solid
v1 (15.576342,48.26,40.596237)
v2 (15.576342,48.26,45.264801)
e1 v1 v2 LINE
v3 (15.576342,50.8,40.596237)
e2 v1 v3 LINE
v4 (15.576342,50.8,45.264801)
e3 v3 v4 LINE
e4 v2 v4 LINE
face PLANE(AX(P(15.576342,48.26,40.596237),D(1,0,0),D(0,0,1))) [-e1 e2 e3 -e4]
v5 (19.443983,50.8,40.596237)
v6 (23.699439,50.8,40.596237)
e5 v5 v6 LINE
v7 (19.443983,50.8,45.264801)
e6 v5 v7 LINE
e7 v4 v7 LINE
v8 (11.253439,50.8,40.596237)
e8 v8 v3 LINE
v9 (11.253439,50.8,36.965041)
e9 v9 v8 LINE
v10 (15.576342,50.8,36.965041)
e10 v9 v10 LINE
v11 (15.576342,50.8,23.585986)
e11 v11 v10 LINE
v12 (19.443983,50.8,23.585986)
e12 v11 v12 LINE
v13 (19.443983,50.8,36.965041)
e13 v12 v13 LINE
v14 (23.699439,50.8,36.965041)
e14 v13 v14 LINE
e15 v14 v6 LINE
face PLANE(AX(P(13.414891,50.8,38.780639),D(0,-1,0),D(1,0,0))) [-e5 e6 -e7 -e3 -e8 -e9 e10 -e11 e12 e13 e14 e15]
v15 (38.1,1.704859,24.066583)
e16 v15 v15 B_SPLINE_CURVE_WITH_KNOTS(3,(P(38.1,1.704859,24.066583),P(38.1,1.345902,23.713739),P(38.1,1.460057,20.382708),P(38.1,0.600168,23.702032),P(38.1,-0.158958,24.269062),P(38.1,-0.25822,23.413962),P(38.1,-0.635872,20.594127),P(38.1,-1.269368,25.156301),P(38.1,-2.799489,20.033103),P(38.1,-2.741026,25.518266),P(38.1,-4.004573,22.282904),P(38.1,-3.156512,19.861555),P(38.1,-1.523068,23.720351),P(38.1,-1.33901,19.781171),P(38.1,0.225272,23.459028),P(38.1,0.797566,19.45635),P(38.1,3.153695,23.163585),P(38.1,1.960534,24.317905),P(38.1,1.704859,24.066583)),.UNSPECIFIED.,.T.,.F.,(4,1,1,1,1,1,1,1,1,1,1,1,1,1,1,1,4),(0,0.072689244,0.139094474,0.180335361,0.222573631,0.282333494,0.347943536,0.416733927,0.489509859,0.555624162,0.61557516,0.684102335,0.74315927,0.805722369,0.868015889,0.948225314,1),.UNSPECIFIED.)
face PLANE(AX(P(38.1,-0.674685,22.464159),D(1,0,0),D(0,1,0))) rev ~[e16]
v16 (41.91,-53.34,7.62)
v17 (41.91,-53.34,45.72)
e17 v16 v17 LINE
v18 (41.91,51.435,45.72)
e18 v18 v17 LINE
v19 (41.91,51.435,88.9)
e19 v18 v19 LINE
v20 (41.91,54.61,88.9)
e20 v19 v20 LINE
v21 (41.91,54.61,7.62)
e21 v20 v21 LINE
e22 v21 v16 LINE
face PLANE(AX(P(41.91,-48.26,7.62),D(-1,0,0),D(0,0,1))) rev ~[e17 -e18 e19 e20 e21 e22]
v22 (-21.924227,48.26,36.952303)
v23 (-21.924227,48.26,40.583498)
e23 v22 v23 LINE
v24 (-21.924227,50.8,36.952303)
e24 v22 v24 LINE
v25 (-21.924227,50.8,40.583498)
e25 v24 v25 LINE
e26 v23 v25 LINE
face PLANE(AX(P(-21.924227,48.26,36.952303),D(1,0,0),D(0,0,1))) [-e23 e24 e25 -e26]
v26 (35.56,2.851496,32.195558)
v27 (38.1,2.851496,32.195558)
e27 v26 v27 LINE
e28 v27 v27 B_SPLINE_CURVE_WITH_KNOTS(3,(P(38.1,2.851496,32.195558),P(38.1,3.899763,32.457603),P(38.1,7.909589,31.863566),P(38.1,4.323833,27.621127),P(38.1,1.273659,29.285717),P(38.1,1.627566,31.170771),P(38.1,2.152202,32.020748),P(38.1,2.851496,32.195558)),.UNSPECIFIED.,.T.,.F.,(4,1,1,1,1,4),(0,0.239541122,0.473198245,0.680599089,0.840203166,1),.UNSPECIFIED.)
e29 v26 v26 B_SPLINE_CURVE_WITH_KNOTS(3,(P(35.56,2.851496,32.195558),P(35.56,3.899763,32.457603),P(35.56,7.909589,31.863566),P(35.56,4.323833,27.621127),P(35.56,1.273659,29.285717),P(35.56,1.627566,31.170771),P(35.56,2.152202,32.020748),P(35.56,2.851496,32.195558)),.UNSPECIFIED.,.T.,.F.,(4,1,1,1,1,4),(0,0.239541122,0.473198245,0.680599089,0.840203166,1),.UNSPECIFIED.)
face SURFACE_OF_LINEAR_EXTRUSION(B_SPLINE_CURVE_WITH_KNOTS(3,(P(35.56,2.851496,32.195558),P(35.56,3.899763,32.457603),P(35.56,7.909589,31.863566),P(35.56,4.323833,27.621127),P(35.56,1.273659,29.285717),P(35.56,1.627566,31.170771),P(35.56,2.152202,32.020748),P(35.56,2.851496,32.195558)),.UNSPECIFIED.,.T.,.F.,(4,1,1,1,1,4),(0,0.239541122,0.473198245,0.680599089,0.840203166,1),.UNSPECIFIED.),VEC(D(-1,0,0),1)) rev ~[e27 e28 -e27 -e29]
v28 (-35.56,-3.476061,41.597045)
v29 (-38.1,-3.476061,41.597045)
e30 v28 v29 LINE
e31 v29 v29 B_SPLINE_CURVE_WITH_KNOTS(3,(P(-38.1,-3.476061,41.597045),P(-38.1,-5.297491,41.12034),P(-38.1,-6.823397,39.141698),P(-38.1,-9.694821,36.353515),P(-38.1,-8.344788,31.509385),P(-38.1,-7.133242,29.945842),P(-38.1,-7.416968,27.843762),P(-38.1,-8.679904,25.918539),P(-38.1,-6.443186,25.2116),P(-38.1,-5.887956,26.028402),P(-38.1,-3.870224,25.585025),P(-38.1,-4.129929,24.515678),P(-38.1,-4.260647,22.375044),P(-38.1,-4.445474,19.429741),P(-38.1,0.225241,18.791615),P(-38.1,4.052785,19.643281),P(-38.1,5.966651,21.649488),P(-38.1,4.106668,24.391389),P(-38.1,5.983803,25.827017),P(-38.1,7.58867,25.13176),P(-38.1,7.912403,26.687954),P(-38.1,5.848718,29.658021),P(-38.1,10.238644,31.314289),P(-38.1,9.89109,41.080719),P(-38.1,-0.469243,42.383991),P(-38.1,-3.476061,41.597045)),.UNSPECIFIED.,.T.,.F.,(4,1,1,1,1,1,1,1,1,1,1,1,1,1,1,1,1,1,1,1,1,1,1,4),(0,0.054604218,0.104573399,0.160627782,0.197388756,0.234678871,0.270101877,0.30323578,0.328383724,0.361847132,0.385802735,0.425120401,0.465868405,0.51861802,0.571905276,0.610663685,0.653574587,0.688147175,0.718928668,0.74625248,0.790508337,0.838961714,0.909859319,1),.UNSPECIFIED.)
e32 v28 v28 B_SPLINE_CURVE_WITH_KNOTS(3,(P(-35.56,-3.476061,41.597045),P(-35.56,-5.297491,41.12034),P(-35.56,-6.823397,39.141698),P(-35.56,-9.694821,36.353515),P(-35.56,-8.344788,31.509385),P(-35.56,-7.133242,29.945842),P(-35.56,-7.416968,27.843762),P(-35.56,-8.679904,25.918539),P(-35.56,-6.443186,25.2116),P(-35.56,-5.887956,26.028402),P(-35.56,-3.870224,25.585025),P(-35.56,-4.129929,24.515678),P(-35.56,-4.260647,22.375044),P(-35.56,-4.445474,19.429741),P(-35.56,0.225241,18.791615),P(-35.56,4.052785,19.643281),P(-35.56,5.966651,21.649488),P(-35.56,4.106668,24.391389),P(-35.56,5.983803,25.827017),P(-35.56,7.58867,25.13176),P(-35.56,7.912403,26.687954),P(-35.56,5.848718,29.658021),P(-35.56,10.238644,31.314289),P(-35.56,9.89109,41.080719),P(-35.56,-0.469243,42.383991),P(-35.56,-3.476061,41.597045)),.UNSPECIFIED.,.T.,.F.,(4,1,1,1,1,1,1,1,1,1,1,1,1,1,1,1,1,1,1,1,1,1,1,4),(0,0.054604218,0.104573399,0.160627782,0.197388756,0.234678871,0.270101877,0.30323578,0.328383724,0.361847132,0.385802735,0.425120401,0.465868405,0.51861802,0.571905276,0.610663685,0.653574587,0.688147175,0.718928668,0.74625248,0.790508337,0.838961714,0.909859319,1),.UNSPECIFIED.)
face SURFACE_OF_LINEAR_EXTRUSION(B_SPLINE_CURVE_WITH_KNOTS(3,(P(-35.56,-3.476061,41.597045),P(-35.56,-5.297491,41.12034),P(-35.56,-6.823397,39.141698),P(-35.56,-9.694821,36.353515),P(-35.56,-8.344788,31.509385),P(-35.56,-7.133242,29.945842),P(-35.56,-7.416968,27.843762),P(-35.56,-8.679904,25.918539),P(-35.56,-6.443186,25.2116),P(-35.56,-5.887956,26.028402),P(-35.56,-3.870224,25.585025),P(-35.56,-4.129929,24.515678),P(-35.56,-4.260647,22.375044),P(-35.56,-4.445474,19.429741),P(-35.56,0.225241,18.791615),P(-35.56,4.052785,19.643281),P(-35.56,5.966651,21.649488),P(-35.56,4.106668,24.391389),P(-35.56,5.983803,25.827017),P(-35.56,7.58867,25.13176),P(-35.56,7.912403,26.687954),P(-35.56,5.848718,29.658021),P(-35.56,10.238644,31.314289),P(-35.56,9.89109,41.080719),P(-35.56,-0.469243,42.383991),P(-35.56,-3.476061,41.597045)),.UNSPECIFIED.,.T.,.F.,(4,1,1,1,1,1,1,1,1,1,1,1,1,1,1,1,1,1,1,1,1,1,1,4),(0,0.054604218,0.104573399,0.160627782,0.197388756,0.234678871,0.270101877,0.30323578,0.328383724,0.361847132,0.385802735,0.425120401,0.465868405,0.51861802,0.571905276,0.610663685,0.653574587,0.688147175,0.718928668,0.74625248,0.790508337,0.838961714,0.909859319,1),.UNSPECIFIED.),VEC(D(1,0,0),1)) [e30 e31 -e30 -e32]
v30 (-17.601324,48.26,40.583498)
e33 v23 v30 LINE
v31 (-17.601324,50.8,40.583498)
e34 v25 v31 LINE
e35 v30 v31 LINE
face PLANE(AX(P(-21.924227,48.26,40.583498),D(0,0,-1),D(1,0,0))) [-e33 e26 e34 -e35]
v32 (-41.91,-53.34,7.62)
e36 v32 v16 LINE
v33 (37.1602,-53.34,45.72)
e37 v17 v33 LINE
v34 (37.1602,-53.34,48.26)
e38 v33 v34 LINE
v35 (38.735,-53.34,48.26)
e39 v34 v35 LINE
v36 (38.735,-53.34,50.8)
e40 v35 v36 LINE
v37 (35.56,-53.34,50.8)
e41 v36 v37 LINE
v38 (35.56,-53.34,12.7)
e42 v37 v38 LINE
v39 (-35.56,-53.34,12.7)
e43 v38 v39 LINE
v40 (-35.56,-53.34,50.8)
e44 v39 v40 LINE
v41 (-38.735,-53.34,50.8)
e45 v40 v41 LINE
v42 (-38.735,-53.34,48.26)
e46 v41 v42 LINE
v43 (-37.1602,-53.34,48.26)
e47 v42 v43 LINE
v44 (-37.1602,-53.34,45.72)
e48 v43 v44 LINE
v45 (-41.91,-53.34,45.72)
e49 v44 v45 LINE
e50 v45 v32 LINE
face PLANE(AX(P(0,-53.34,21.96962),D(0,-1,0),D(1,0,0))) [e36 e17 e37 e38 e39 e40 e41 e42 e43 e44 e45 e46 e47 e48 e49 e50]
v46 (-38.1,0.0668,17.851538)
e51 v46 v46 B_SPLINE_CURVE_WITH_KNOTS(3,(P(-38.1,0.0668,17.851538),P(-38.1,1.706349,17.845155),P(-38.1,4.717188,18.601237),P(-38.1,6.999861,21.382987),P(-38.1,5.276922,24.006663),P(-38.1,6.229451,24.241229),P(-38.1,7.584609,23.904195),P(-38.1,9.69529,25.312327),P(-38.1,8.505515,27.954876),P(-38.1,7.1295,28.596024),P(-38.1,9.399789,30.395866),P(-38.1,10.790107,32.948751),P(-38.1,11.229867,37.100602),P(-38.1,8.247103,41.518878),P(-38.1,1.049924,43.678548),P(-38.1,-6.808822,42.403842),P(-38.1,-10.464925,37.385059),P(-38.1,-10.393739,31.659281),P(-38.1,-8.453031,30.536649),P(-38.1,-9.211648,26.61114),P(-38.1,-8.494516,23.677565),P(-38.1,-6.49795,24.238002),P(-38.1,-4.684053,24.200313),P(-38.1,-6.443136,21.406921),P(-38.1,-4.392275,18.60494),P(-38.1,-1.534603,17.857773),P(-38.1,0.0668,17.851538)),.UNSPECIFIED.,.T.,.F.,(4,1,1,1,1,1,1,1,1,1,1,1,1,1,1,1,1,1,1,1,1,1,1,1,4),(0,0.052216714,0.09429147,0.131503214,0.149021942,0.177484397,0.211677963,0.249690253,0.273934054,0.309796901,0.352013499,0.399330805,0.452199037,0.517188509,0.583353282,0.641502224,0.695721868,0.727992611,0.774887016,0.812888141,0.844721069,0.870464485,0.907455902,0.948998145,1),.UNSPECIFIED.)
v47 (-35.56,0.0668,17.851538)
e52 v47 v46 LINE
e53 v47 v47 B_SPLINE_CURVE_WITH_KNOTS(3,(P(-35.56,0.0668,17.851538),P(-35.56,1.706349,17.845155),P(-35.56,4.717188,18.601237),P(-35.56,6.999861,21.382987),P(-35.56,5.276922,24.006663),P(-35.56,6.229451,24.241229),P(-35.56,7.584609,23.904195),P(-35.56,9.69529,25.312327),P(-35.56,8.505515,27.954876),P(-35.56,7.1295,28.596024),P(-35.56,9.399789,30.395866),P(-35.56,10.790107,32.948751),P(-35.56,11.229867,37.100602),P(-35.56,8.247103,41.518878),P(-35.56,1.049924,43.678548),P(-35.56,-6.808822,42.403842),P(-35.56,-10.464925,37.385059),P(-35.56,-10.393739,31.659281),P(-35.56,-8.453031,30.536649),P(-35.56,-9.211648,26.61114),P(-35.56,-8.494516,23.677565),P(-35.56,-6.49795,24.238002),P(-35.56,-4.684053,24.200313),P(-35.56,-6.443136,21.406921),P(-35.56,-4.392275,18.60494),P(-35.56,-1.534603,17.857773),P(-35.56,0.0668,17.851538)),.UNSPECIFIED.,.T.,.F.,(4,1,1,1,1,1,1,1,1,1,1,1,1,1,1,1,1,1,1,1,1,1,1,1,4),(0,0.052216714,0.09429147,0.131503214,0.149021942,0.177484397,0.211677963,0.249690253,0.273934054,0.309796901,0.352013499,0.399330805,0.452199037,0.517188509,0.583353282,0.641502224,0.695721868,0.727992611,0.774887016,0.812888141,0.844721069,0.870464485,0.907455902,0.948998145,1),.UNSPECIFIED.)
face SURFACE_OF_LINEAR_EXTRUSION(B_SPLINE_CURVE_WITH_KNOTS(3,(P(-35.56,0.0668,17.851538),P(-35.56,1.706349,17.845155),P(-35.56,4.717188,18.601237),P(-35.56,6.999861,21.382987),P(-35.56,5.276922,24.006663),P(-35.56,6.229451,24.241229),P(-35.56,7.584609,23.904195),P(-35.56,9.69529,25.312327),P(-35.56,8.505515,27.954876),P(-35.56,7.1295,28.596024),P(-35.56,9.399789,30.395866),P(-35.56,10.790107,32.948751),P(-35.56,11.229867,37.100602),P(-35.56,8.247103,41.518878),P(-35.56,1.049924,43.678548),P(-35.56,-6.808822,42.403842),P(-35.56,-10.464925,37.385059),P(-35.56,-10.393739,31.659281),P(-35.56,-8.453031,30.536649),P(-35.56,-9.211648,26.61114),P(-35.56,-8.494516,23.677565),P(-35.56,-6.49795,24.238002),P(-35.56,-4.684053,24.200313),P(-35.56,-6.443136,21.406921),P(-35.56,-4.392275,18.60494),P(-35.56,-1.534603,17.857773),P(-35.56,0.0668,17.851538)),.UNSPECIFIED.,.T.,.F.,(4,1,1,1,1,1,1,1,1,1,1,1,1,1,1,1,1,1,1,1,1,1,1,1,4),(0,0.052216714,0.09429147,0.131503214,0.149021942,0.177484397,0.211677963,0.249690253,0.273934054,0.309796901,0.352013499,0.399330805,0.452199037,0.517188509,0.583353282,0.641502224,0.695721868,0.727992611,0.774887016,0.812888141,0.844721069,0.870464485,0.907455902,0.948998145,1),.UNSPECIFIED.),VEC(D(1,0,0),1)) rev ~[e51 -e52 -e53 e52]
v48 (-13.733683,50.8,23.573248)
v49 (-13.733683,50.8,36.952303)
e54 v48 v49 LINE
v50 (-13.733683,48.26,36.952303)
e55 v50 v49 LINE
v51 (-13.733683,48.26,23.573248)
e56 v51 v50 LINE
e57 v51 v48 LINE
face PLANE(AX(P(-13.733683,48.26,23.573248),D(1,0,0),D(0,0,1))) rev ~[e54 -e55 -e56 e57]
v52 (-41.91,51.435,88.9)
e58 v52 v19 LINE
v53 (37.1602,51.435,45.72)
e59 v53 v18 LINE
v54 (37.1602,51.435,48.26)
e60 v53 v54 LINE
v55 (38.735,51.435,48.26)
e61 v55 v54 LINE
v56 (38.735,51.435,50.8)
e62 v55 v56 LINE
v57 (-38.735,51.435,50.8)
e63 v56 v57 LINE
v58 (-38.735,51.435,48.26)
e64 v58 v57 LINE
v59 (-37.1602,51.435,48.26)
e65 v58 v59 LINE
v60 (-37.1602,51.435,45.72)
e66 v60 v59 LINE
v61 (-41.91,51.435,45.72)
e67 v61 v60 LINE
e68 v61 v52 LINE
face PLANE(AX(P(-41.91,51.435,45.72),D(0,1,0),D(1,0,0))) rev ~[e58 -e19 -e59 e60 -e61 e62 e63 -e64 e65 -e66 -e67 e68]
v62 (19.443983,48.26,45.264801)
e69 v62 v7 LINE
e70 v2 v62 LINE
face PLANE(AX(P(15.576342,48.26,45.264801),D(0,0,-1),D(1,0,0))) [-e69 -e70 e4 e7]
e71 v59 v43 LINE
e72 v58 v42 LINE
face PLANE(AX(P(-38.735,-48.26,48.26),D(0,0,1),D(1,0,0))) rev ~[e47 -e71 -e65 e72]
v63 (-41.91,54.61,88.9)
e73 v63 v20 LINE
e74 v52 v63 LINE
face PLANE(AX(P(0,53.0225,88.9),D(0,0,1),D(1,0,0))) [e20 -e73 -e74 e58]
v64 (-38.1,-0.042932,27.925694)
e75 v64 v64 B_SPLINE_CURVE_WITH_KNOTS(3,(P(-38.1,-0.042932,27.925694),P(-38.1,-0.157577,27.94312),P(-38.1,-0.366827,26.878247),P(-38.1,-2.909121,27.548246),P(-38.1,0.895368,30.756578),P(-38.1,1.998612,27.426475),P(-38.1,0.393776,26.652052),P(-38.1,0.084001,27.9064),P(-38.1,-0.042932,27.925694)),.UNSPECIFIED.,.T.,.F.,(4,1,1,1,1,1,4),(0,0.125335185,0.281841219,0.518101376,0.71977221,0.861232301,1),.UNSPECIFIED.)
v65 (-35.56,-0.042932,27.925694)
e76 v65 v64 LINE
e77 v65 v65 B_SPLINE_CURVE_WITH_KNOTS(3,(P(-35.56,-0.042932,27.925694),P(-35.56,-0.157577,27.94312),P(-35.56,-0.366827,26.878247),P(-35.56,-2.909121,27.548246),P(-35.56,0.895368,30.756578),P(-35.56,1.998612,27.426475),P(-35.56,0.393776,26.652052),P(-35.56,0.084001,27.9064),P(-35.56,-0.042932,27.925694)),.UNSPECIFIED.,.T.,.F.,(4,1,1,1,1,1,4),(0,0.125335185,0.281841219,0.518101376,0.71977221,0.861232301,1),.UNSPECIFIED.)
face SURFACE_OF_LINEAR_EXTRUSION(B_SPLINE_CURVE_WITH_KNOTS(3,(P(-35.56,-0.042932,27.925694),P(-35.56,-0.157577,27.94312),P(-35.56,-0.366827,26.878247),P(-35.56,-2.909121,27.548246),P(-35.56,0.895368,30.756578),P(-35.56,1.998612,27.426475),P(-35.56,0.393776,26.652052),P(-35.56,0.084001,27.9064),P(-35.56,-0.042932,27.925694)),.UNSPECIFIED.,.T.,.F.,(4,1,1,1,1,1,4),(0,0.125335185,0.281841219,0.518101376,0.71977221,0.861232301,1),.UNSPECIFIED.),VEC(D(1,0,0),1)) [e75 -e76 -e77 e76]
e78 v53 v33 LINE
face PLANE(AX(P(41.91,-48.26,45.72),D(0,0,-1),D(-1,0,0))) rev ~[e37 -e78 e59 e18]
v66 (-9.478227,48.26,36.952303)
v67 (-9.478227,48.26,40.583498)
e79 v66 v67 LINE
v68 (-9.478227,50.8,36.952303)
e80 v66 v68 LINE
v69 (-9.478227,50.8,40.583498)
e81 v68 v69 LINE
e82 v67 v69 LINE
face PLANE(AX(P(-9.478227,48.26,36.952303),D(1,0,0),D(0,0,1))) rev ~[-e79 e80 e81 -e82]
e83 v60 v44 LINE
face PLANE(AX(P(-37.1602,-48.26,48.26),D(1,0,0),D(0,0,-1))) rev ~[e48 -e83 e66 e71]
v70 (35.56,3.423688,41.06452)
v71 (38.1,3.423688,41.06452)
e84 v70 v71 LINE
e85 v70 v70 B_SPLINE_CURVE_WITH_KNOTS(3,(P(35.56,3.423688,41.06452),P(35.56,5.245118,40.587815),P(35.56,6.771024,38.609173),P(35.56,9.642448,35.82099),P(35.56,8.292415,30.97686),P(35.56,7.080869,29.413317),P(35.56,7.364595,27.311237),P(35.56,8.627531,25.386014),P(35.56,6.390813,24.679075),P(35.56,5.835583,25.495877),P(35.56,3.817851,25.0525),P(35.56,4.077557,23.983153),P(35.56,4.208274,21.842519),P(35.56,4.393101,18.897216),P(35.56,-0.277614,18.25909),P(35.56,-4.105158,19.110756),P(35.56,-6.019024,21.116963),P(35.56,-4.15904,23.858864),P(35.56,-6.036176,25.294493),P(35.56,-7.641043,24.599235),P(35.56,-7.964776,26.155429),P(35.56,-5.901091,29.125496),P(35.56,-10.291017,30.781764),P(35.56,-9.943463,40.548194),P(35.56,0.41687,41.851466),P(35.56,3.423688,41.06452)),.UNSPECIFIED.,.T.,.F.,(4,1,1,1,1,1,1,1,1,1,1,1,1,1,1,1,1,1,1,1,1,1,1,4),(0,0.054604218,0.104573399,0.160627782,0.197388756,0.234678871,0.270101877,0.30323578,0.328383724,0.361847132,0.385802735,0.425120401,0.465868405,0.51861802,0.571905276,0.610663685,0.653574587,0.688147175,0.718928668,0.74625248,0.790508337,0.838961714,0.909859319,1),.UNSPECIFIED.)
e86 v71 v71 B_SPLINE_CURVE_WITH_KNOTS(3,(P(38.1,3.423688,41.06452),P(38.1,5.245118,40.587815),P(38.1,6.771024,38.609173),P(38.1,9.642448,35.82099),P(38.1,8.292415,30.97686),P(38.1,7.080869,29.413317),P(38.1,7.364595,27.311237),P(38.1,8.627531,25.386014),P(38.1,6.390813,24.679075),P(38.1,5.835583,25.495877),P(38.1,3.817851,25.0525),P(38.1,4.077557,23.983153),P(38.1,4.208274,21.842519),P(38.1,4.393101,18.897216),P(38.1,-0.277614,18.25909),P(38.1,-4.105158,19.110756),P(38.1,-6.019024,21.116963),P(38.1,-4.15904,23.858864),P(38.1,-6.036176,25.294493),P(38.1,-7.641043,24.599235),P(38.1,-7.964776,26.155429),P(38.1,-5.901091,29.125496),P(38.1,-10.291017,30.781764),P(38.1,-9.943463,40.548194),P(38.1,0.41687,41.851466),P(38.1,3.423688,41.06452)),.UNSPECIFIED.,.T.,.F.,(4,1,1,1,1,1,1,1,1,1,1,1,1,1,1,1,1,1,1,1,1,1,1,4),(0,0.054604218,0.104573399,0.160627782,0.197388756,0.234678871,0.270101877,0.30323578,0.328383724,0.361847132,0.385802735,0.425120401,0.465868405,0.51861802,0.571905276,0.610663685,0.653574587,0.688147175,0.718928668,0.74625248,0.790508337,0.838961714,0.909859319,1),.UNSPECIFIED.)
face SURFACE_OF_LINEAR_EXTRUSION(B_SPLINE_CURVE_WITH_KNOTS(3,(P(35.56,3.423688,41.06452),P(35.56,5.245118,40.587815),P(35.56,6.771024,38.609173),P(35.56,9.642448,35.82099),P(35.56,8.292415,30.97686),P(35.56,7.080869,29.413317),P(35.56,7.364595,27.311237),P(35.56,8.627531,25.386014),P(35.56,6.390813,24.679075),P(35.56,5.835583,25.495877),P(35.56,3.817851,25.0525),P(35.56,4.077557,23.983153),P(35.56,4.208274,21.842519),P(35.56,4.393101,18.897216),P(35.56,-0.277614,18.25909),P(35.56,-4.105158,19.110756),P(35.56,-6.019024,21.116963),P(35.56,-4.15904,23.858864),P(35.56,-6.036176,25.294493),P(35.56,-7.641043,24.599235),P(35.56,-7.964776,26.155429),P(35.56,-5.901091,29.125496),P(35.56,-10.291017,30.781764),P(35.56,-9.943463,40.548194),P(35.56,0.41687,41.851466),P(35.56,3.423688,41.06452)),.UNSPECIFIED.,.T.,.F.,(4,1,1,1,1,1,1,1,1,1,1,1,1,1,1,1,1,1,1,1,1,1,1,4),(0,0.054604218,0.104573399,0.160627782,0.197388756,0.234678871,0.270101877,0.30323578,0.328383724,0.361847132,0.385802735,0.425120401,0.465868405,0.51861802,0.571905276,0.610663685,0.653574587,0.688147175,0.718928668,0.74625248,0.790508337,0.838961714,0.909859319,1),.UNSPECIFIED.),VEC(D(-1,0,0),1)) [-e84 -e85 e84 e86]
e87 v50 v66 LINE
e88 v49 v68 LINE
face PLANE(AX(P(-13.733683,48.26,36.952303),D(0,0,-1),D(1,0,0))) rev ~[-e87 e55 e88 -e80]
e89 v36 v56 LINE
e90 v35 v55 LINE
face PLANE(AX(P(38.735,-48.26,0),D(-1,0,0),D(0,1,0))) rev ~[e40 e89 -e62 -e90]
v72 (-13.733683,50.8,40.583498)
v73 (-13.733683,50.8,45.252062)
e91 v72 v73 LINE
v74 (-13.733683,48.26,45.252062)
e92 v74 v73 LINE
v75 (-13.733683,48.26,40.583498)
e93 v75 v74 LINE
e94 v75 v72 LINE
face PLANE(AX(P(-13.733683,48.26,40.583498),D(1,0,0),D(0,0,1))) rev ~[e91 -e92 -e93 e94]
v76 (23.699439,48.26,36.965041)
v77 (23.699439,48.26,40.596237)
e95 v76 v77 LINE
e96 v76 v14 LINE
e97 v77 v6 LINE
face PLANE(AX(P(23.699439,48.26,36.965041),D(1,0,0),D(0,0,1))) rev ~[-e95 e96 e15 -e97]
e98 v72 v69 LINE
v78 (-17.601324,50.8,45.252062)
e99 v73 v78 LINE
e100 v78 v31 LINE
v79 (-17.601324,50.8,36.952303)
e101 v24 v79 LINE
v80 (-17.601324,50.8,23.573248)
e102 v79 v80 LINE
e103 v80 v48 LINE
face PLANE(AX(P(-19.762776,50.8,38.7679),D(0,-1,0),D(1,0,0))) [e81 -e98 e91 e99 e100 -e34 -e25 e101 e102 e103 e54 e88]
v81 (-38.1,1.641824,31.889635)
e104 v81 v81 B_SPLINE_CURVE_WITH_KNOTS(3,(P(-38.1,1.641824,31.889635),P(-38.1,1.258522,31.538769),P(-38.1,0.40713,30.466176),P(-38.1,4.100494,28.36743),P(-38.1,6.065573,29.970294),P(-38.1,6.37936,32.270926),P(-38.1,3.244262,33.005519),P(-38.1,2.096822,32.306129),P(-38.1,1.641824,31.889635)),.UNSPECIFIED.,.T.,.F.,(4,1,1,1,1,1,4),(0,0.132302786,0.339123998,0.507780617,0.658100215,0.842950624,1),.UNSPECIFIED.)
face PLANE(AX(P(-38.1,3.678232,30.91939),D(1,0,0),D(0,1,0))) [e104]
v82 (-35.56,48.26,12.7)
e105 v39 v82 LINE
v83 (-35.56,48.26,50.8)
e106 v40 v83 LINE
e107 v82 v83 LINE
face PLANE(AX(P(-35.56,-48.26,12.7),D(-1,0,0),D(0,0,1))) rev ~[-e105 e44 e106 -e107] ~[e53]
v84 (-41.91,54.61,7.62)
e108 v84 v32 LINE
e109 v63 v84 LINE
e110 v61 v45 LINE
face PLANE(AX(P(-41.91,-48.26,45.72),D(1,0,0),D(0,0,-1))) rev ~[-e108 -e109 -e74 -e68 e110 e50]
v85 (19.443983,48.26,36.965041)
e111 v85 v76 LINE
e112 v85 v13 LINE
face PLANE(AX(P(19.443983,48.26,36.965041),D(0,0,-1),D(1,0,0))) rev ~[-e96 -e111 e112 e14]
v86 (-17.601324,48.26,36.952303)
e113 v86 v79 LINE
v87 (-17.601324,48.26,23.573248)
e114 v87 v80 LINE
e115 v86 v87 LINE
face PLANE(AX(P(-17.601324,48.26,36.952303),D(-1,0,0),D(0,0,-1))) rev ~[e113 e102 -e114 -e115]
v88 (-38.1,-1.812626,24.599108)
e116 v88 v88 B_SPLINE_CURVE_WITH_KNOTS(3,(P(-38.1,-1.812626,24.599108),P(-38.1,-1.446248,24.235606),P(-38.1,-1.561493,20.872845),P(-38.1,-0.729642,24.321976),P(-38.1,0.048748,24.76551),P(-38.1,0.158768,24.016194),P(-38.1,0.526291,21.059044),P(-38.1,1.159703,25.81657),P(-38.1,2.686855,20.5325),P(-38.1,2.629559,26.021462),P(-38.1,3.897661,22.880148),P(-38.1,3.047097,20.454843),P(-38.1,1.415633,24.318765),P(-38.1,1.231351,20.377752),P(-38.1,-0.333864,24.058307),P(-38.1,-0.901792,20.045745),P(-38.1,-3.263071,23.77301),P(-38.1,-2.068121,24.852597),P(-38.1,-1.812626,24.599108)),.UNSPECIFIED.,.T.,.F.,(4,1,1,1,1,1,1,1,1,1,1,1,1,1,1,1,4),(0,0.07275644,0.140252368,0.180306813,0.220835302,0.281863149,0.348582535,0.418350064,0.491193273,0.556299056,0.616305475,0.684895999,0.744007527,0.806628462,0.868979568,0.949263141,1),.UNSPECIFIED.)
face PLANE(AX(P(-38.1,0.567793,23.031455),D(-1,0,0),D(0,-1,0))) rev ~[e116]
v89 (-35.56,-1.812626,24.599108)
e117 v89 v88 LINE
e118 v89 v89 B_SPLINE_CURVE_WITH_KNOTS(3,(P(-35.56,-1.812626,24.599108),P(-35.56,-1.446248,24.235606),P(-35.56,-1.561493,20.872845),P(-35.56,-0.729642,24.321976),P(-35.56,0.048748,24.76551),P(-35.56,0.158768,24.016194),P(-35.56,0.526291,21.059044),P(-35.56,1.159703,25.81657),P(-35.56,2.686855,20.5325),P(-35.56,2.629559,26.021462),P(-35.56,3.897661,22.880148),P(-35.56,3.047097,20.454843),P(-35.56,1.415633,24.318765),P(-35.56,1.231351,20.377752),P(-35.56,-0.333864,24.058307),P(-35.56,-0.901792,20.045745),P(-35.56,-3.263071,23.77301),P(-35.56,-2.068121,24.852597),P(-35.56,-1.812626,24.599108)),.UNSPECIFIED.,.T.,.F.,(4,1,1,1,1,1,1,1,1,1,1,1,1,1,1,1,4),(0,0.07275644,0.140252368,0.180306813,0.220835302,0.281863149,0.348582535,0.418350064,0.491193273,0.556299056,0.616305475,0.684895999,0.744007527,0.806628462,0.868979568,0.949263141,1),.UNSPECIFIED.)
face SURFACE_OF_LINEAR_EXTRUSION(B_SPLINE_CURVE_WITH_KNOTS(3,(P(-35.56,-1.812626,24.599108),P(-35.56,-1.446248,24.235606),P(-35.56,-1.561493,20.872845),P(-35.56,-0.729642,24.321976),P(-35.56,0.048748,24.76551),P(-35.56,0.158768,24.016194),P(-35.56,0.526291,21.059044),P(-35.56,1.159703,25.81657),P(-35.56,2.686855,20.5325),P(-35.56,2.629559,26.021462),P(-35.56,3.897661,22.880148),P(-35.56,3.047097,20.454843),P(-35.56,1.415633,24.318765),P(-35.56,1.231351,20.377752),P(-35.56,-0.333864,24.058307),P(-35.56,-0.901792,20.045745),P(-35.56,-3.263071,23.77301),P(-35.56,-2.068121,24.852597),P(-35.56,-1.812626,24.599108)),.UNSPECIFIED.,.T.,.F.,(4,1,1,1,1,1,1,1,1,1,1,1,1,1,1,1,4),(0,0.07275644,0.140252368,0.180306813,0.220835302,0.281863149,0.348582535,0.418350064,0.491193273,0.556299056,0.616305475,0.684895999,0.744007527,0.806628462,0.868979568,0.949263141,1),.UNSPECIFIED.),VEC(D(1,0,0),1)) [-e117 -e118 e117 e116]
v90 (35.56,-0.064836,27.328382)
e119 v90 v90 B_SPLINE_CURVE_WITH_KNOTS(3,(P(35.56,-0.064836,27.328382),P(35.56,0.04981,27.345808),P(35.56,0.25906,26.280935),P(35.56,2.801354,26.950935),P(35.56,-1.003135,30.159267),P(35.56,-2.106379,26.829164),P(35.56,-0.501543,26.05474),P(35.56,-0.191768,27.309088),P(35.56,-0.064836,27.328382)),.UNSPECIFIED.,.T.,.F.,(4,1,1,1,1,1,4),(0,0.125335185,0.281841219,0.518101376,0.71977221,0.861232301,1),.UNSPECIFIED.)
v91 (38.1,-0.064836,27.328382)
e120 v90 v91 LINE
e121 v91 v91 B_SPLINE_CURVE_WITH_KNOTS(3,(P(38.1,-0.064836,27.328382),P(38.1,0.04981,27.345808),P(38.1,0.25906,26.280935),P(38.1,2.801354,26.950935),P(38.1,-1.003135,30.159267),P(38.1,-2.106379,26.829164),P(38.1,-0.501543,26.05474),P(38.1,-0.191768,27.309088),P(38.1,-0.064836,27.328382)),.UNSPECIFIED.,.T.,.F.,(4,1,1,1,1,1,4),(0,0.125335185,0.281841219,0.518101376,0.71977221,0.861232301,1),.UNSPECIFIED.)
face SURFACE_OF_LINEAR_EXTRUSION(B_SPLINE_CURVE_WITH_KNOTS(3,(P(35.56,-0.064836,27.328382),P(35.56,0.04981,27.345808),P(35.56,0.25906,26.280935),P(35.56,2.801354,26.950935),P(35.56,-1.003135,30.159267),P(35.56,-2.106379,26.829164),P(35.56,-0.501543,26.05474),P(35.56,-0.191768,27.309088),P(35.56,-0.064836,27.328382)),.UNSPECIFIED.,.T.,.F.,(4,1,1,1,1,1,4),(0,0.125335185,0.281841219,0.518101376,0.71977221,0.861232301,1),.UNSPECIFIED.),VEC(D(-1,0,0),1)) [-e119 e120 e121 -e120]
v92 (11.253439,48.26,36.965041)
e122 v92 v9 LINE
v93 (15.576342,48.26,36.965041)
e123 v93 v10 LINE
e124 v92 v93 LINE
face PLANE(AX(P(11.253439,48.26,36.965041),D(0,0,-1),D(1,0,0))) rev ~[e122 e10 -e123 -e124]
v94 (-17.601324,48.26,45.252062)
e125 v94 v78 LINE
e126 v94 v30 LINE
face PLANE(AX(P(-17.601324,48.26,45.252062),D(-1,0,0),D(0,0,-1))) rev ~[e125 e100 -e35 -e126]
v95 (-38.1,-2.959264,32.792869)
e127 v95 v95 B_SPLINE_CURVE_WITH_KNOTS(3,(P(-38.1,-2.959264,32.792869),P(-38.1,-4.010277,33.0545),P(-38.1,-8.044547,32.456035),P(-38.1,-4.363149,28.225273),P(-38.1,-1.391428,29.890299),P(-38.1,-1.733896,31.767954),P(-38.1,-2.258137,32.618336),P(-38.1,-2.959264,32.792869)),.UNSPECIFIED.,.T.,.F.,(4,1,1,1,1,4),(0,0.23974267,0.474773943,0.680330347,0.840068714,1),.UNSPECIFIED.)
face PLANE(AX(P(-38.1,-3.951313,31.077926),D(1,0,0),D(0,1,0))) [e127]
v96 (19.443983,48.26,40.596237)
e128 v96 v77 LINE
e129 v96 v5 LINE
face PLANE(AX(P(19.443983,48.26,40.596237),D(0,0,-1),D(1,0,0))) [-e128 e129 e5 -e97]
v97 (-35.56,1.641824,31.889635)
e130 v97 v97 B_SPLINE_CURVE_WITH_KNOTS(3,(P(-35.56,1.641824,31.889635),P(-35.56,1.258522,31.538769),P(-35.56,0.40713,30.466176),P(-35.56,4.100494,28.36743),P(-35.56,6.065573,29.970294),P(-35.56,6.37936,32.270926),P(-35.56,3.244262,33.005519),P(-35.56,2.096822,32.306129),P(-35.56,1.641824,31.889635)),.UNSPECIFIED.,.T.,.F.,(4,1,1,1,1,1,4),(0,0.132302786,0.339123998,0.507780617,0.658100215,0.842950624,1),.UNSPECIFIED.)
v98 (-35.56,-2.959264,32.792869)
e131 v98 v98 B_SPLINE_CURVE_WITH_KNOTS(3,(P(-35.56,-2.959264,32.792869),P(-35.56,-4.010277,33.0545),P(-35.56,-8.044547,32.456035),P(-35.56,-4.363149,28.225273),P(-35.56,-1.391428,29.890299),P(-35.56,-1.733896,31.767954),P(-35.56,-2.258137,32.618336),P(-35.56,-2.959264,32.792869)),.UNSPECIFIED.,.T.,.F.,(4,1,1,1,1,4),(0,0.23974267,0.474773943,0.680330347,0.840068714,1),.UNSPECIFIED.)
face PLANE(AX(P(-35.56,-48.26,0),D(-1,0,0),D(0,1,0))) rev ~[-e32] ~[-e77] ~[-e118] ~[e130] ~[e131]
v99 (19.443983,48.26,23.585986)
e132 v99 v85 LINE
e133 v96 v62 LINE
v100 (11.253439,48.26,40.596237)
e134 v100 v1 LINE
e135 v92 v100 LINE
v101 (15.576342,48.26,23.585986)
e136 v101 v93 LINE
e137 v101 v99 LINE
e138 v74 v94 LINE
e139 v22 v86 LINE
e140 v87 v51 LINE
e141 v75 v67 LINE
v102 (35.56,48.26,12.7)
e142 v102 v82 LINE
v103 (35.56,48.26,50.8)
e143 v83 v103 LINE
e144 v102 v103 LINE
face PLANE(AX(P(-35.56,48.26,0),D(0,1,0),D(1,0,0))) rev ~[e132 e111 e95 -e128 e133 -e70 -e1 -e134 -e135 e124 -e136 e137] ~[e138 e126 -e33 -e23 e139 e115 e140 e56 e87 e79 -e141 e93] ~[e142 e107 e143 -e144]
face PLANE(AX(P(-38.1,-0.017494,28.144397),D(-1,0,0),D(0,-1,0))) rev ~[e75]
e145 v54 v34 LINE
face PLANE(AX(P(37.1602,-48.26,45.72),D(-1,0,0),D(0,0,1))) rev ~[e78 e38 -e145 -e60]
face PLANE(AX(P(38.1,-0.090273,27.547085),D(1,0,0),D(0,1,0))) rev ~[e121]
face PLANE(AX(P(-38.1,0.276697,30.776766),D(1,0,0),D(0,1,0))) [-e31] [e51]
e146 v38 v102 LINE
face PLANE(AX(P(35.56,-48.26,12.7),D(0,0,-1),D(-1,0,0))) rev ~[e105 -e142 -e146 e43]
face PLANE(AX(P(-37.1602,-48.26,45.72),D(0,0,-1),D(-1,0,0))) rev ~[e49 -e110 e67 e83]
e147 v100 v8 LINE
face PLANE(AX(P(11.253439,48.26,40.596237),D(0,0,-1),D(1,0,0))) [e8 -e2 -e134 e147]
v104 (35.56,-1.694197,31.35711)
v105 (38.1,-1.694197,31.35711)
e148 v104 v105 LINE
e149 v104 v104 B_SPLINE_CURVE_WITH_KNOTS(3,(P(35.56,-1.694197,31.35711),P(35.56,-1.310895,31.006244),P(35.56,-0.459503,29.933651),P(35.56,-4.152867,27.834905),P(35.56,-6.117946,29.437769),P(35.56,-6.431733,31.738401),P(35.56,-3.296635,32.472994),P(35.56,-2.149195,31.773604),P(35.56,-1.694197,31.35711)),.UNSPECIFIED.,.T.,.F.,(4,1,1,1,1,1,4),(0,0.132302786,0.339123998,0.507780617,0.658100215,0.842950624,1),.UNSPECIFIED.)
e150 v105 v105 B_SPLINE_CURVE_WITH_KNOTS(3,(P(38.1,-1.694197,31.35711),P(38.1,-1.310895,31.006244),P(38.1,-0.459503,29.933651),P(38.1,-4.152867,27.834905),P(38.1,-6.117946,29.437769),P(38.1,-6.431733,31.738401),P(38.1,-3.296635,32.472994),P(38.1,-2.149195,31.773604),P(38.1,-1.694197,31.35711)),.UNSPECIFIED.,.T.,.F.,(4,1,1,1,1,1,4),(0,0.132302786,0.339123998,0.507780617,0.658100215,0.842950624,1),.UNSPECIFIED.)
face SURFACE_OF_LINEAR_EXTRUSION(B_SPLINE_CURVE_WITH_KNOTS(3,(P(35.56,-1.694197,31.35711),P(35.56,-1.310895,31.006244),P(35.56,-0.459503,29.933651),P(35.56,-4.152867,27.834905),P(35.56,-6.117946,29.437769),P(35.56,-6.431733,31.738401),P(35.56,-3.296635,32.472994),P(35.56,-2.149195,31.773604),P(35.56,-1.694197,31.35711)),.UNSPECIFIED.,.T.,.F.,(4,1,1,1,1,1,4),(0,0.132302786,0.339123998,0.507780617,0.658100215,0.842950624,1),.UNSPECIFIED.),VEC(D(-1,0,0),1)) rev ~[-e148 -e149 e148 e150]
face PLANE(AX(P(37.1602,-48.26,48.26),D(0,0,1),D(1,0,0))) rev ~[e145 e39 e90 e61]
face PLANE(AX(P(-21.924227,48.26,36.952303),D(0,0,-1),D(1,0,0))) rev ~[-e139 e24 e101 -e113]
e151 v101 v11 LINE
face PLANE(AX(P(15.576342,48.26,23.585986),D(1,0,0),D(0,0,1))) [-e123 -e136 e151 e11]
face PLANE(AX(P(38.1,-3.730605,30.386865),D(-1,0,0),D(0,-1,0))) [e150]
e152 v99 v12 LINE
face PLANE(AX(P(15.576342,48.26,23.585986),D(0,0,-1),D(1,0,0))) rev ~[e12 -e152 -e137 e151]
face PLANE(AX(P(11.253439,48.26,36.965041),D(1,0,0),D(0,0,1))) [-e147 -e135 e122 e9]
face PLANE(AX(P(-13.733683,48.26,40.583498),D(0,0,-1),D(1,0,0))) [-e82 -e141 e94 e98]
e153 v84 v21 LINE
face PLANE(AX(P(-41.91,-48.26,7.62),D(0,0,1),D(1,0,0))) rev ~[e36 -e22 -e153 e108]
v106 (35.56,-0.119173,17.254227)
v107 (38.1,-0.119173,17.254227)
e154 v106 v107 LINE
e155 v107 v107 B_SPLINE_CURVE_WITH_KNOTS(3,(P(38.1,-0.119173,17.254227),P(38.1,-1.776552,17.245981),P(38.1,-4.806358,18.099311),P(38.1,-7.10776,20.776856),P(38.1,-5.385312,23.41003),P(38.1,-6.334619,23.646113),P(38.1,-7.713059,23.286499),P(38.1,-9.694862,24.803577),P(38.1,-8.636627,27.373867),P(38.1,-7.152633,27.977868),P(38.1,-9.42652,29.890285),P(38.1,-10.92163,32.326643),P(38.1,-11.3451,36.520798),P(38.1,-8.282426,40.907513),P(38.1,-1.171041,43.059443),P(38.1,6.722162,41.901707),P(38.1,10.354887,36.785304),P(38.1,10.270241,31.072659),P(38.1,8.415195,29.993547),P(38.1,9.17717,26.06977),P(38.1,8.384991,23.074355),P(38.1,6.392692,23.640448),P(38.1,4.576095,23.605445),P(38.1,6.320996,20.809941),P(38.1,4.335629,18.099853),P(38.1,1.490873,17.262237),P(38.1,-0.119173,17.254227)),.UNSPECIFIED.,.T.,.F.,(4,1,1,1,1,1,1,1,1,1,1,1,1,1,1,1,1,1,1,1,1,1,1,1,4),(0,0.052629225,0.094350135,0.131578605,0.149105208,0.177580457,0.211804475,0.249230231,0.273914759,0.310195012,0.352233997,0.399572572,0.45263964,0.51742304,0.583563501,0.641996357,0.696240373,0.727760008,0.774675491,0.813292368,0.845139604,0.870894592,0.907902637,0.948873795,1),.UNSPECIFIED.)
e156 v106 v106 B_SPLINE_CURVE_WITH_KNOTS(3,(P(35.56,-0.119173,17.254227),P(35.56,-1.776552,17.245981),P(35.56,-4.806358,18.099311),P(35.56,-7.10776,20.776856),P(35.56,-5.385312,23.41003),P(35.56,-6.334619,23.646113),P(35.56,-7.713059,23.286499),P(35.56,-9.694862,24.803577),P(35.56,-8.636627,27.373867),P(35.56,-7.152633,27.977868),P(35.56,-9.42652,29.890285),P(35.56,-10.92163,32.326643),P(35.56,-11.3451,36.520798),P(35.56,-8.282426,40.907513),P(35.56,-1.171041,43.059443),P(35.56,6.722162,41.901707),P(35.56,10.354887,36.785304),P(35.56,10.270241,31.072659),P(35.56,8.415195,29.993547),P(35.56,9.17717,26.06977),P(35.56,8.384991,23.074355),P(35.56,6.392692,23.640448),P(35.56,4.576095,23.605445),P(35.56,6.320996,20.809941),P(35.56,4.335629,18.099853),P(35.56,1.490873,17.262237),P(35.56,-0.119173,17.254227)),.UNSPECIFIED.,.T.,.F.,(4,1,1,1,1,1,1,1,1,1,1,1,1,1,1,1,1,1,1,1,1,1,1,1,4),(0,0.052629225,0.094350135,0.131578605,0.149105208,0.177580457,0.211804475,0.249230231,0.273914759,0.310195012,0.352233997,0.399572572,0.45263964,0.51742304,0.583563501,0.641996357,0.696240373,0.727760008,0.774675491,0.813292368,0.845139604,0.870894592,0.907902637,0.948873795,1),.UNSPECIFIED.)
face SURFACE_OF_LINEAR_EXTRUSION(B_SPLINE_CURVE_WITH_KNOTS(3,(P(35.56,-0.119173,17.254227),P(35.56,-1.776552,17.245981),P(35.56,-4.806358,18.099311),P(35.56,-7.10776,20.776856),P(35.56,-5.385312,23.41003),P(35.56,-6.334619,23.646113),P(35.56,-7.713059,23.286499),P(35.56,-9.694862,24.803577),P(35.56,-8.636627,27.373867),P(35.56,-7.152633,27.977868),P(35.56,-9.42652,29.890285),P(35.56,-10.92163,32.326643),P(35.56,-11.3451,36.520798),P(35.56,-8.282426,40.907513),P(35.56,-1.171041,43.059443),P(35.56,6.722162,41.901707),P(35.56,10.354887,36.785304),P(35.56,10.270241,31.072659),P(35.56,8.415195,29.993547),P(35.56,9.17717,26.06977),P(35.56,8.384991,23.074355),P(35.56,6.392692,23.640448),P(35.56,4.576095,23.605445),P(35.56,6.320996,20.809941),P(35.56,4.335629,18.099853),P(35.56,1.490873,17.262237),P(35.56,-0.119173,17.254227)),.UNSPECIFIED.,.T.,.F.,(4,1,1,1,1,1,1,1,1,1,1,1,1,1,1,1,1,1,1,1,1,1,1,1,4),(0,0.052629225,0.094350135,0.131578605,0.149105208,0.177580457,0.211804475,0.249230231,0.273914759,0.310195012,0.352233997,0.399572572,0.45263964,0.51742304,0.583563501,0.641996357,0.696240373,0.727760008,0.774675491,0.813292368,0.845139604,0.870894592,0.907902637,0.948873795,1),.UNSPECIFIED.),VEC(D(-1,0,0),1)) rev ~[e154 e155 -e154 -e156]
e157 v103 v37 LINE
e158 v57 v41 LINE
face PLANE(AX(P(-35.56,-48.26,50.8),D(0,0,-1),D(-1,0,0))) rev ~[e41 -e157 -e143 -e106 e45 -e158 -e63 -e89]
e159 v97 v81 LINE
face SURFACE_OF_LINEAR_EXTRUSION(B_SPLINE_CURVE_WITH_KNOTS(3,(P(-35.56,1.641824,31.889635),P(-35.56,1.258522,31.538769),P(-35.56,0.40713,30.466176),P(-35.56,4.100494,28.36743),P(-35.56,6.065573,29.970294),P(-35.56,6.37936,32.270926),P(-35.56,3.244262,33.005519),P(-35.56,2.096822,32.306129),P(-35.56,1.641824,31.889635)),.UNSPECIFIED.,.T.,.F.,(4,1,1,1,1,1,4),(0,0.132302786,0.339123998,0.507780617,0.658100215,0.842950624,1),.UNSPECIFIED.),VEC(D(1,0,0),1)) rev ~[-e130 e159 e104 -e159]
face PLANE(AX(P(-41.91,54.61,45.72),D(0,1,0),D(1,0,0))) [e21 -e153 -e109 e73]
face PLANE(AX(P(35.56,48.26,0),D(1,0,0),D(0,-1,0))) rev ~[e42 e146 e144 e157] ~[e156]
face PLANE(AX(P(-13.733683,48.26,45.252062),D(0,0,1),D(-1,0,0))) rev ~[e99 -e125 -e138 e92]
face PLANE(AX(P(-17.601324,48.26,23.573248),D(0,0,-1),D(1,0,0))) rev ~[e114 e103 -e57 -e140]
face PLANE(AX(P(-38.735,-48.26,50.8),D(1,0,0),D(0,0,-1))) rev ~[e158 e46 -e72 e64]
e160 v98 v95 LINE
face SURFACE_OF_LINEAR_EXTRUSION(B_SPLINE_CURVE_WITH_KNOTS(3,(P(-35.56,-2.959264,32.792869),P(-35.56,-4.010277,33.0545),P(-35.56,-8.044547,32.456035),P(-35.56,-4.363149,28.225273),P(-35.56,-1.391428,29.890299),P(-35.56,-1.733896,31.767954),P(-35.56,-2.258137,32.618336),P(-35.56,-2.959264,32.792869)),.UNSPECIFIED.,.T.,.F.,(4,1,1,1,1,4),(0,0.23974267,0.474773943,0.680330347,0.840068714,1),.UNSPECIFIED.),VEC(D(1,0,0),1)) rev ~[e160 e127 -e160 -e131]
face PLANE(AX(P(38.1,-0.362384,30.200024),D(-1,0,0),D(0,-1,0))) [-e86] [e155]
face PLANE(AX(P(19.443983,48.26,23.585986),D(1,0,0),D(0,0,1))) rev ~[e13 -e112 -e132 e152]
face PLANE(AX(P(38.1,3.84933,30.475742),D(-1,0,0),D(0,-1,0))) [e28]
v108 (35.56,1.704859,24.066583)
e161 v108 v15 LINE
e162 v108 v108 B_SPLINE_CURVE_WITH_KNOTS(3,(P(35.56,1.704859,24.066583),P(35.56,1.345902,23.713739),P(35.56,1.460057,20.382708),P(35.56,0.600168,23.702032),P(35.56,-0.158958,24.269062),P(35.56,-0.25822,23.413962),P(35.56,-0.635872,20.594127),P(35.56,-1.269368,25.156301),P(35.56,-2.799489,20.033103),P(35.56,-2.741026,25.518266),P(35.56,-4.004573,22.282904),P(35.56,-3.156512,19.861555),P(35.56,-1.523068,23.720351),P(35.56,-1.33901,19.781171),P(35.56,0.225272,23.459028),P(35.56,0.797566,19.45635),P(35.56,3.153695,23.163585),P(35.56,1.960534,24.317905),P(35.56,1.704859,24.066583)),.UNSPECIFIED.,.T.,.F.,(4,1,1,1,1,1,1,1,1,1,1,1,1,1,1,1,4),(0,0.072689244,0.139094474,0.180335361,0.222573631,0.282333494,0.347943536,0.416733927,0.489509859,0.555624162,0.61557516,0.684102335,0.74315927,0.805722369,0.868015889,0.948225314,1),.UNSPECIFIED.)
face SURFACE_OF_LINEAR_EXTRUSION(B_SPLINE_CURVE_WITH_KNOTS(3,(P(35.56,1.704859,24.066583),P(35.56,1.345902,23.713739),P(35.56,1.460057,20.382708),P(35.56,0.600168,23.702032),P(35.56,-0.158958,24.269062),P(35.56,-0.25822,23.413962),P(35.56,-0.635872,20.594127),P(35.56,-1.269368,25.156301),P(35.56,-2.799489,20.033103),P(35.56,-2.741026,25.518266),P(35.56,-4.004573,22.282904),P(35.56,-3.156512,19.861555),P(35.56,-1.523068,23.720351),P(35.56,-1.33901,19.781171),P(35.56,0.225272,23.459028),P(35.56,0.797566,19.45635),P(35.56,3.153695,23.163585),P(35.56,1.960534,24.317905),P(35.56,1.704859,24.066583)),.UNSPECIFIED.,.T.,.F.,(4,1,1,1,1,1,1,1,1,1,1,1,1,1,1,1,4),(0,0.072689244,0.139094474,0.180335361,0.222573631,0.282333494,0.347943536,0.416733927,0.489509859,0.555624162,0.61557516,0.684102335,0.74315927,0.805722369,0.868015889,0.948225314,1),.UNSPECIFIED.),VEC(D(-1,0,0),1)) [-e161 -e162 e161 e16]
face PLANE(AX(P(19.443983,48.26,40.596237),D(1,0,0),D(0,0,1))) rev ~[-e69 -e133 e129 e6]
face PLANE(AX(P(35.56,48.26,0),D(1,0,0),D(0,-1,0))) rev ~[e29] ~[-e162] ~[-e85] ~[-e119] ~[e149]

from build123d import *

# Parameters (mm, degrees)
F1_DEPTH  = 45.72
F0_W      = 71.12
F0_H      = 96.52
F2_DEPTH  = 12.7
F3_DEPTH  = 50.8
F4_W      = 4.3229026448
F4_H      = 3.6311953402
F4_W_2    = 4.2554562639
F4_W_3    = 3.8676410913
F4_H_2    = 4.6685643923
F4_H_3    = 13.379054932
F5_DEPTH  = 2.54
F7_DEPTH  = 2.54
F8_W      = 99.695
F8_H      = 2.54
F9_DEPTH  = 1.5748
F10_W     = 99.695
F10_H     = 2.54
F11_DEPTH = 1.5748
F12_W     = 83.82
F12_H     = 102.87
F13_DEPTH = 7.62
F14_W     = 83.82
F14_H     = 3.175
F15_DEPTH = 43.18
F17_DEPTH = 2.54
F19_DEPTH = 5.08


with BuildPart() as f1:
    # F0 (on Top) → F1 (new body)
    with BuildSketch(Plane.XY):
        Polygon((-41.91, -48.26), (-38.735, -48.26), (-38.735, 51.435), (38.735, 51.435), (38.735, -48.26), (41.91, -48.26), (41.91, 54.61), (-41.91, 54.61), align=None)
    extrude(amount=F1_DEPTH)

    # F0 (on Top) → F2 (join)
    with BuildSketch(Plane.XY):
        Rectangle(F0_W, F0_H)
        Polygon((-35.56, -48.26), (-35.56, 48.26), (35.56, 48.26), (35.56, -48.26), (38.735, -48.26), (38.735, 51.435), (-38.735, 51.435), (-38.735, -48.26), align=None)
    extrude(amount=F2_DEPTH)

    # F0 (on Top) → F3 (join)
    with BuildSketch(Plane.XY):
        Polygon((-35.56, -48.26), (-35.56, 48.26), (35.56, 48.26), (35.56, -48.26), (38.735, -48.26), (38.735, 51.435), (-38.735, 51.435), (-38.735, -48.26), align=None)
    extrude(amount=F3_DEPTH)

    # F4 (on face) → F5 (cut)
    with BuildSketch(Plane.XZ.offset(-48.26)):
        with Locations((-19.7627755677, 38.7679003179)):
            Rectangle(F4_W, F4_H)
        Polygon((-17.6013242453, 45.2520623803), (-17.6013242453, 40.583497988), (-13.733683154, 40.583497988), (-13.733683154, 45.2520623803), (-15.7012268901, 45.2520623803), align=None)
        Polygon((-13.733683154, 40.583497988), (-17.6013242453, 40.583497988), (-17.6013242453, 36.9523026478), (-15.7012268901, 36.9523026478), (-13.733683154, 36.9523026478), align=None)
        with Locations((-11.605955022, 38.7679003179)):
            Rectangle(F4_W_2, F4_H)
        Polygon((-15.7012268901, 36.9523026478), (-17.6013242453, 36.9523026478), (-17.6013242453, 23.5732477158), (-13.733683154, 23.5732477158), (-13.733683154, 36.9523026478), align=None)
        with Locations((13.4148907984, 38.7806389481)):
            Rectangle(F4_W, F4_H)
        with Locations((17.5101626664, 42.9305188143)):
            Rectangle(F4_W_3, F4_H_2)
        with Locations((17.5101626664, 38.7806389481)):
            Rectangle(F4_W_3, F4_H)
        with Locations((21.5717113441, 38.7806389481)):
            Rectangle(F4_W_2, F4_H)
        with Locations((17.5101626664, 30.275513812)):
            Rectangle(F4_W_3, F4_H_3)
    extrude(amount=-F5_DEPTH, mode=Mode.SUBTRACT)

    # F6 (on face) → F7 (cut)
    with BuildSketch(Plane.YZ.offset(-35.56)):
        with BuildLine():
            add(Edge.make_bspline(
                [(0.066800043, 17.8515381722), (1.7063485565, 17.8451552315), (4.7171876708, 18.6012374705), (6.999860678, 21.3829871952), (5.276921656, 24.0066631995), (6.2294506871, 24.2412287851), (7.5846093898, 23.9041946533), (9.6952903725, 25.3123269319), (8.5055153707, 27.9548758638), (7.1294995555, 28.5960237749), (9.3997885865, 30.3958659666), (10.790107201, 32.94875052), (11.229867324, 37.1006015122), (8.2471025978, 41.5188778213), (1.0499238935, 43.6785483487), (-6.8088219986, 42.4038417367), (-10.4649246778, 37.3850594005), (-10.393739257, 31.6592808684), (-8.4530306133, 30.5366491672), (-9.2116481295, 26.6111403121), (-8.4945155822, 23.677565438), (-6.4979499072, 24.2380024022), (-4.684053121, 24.2003129976), (-6.4431361111, 21.4069209432), (-4.392275492, 18.6049404983), (-1.534603193, 17.8577726093), (0.066800043, 17.8515381722)],
                knots=[0, 0, 0, 0, 0.0522167145, 0.0942914698, 0.1315032138, 0.1490219417, 0.1774843969, 0.2116779629, 0.2496902535, 0.2739340542, 0.3097969014, 0.3520134992, 0.3993308051, 0.4521990373, 0.5171885095, 0.5833532825, 0.641502224, 0.695721868, 0.7279926109, 0.7748870156, 0.8128881412, 0.8447210686, 0.8704644847, 0.9074559023, 0.948998145, 1, 1, 1, 1], degree=3))
        make_face()
        with BuildLine():
            add(Edge.make_bspline(
                [(-3.4760609269, 41.5970451741), (-5.2974910725, 41.1203397066), (-6.8233973888, 39.1416976805), (-9.6948213947, 36.3535148635), (-8.3447882941, 31.5093846086), (-7.1332419849, 29.9458422684), (-7.4169682252, 27.8437618396), (-8.679903557, 25.9185388708), (-6.4431863727, 25.2115998161), (-5.8879557124, 26.0284017725), (-3.8702243278, 25.5850250458), (-4.1299294456, 24.5156782814), (-4.2606470637, 22.3750439724), (-4.4454739317, 19.4297407896), (0.22524142, 18.7916149005), (4.0527851413, 19.6432805073), (5.966650914, 21.6494876917), (4.1066675382, 24.3913889878), (5.983802769, 25.8270174988), (7.5886697598, 25.1317602112), (7.9124032116, 26.687954122), (5.8487183909, 29.6580214861), (10.2386443688, 31.3142893592), (9.8910902721, 41.080719162), (-0.4692427556, 42.3839908967), (-3.4760609269, 41.5970451741)],
                knots=[0, 0, 0, 0, 0.0546042176, 0.1045733995, 0.1606277824, 0.197388756, 0.2346788711, 0.2701018775, 0.3032357804, 0.3283837236, 0.3618471324, 0.3858027351, 0.4251204008, 0.4658684054, 0.5186180199, 0.5719052759, 0.6106636846, 0.6535745875, 0.6881471751, 0.7189286681, 0.74625248, 0.7905083372, 0.8389617139, 0.909859319, 1, 1, 1, 1], degree=3))
        make_face(mode=Mode.SUBTRACT)
        with BuildLine():
            add(Edge.make_bspline(
                [(-2.959263511, 32.7928691714), (-4.0102771502, 33.054500059), (-8.0445474656, 32.4560348076), (-4.3631489141, 28.2252726219), (-1.3914281493, 29.890298555), (-1.7338960059, 31.7679539146), (-2.2581369115, 32.6183363511), (-2.959263511, 32.7928691714)],
                knots=[0, 0, 0, 0, 0.2397426698, 0.474773943, 0.6803303475, 0.8400687141, 1, 1, 1, 1], degree=3))
        make_face()
        with BuildLine():
            add(Edge.make_bspline(
                [(-0.042931526, 27.9256935774), (-0.1575768292, 27.9431196977), (-0.3668271563, 26.8782469831), (-2.9091211217, 27.5482461522), (0.8953676415, 30.7565784961), (1.9986121629, 27.4264751343), (0.3937760235, 26.6520518961), (0.0840006272, 27.9063998523), (-0.042931526, 27.9256935774)],
                knots=[0, 0, 0, 0, 0.1253351854, 0.281841219, 0.5181013759, 0.7197722097, 0.8612323008, 1, 1, 1, 1], degree=3))
        make_face()
        with BuildLine():
            add(Edge.make_bspline(
                [(1.6418242594, 31.8896352856), (1.2585217685, 31.5387692586), (0.4071301214, 30.4661758946), (4.1004936044, 28.367429827), (6.0655732666, 29.9702940204), (6.3793598774, 32.2709259695), (3.2442620294, 33.0055191193), (2.0968216084, 32.3061290886), (1.6418242594, 31.8896352856)],
                knots=[0, 0, 0, 0, 0.1323027864, 0.3391239984, 0.507780617, 0.6581002152, 0.8429506239, 1, 1, 1, 1], degree=3))
        make_face()
        with BuildLine():
            add(Edge.make_bspline(
                [(-1.8126259092, 24.5991080611), (-1.446247622, 24.2356060148), (-1.5614929735, 20.8728450777), (-0.729641612, 24.3219756106), (0.048747902, 24.7655098307), (0.158767859, 24.0161944644), (0.5262913356, 21.0590442498), (1.1597033165, 25.8165699624), (2.6868551683, 20.5325002786), (2.6295586777, 26.0214623283), (3.8976613764, 22.8801482508), (3.04709718, 20.4548431652), (1.4156329269, 24.3187645805), (1.2313505221, 20.3777516212), (-0.3338639614, 24.0583066096), (-0.9017916205, 20.045745257), (-3.2630714112, 23.7730097502), (-2.0681205896, 24.8525969886), (-1.8126259092, 24.5991080611)],
                knots=[0, 0, 0, 0, 0.0727564404, 0.1402523678, 0.1803068129, 0.2208353018, 0.2818631492, 0.3485825348, 0.4183500641, 0.4911932731, 0.5562990559, 0.6163054747, 0.6848959988, 0.7440075274, 0.8066284617, 0.868979568, 0.949263141, 1, 1, 1, 1], degree=3))
        make_face()
    extrude(amount=-F7_DEPTH, mode=Mode.SUBTRACT)

    # F8 (on face) → F9 (cut)
    with BuildSketch(Plane(origin=(-38.735, 0, 0), x_dir=(0, -1, 0), z_dir=(-1, 0, 0))):
        with Locations((-1.5875, 46.99)):
            Rectangle(F8_W, F8_H)
    extrude(amount=-F9_DEPTH, mode=Mode.SUBTRACT)

    # F10 (on face) → F11 (cut)
    with BuildSketch(Plane.YZ.offset(38.735)):
        with Locations((1.5875, 46.99)):
            Rectangle(F10_W, F10_H)
    extrude(amount=-F11_DEPTH, mode=Mode.SUBTRACT)

    # F12 (on face) → F13 (cut)
    with BuildSketch(Plane(origin=(0, 0, 0), x_dir=(1, 0, 0), z_dir=(0, 0, -1))):
        with Locations((0, -3.175)):
            Rectangle(F12_W, F12_H)
    extrude(amount=-F13_DEPTH, mode=Mode.SUBTRACT)

    # F14 (on face) → F15 (join)
    with BuildSketch(Plane.XY.offset(45.72)):
        with Locations((0, 53.0225)):
            Rectangle(F14_W, F14_H)
    extrude(amount=F15_DEPTH)

    # F16 (on face) → F17 (cut)
    with BuildSketch(Plane(origin=(35.56, 0, 0), x_dir=(0, -1, 0), z_dir=(-1, 0, 0))):
        with BuildLine():
            add(Edge.make_bspline(
                [(0.119172968, 17.2542266542), (1.7765517883, 17.2459806232), (4.8063583808, 18.0993111416), (7.1077599478, 20.7768564873), (5.3853115493, 23.4100296289), (6.3346191966, 23.6461127959), (7.7130587375, 23.2864990221), (9.6948616495, 24.8035769111), (8.6366268257, 27.3738672287), (7.1526328189, 27.9778684974), (9.4265196469, 29.8902850919), (10.9216300129, 32.3266428446), (11.345099995, 36.5207983878), (8.2824263529, 40.9075126189), (1.1710408264, 43.0594426376), (-6.7221624872, 41.9017070368), (-10.35488734, 36.7853035355), (-10.2702410822, 31.0726587985), (-8.4151945149, 29.993547074), (-9.177169698, 26.069770458), (-8.3849909777, 23.0743548979), (-6.3926918209, 23.6404478202), (-4.5760947114, 23.6054451922), (-6.3209960184, 20.8099413583), (-4.3356290803, 18.0998527025), (-1.4908733419, 17.2622371896), (0.119172968, 17.2542266542)],
                knots=[0, 0, 0, 0, 0.0526292248, 0.0943501345, 0.131578605, 0.1491052075, 0.1775804566, 0.2118044749, 0.2492302311, 0.2739147585, 0.3101950119, 0.352233997, 0.3995725719, 0.4526396399, 0.5174230395, 0.5835635007, 0.6419963569, 0.6962403726, 0.7277600078, 0.7746754914, 0.8132923679, 0.8451396041, 0.8708945918, 0.907902637, 0.9488737951, 1, 1, 1, 1], degree=3))
        make_face()
        with BuildLine():
            add(Edge.make_bspline(
                [(-3.4236880019, 41.0645201796), (-5.2451181476, 40.5878147121), (-6.7710244638, 38.6091726861), (-9.6424484697, 35.820989869), (-8.2924153691, 30.9768596141), (-7.0808690599, 29.413317274), (-7.3645953002, 27.3112368452), (-8.627530632, 25.3860138763), (-6.3908134478, 24.6790748216), (-5.8355827874, 25.495876778), (-3.8178514028, 25.0525000513), (-4.0775565206, 23.9831532869), (-4.2082741387, 21.842518978), (-4.3931010067, 18.8972157951), (0.2776143449, 18.259089906), (4.1051580663, 19.1107555128), (6.019023839, 21.1169626972), (4.1590404631, 23.8588639933), (6.036175694, 25.2944925043), (7.6410426848, 24.5992352167), (7.9647761366, 26.1554291276), (5.9010913159, 29.1254964916), (10.2910172938, 30.7817643647), (9.9434631971, 40.5481941675), (-0.4168698307, 41.8514659022), (-3.4236880019, 41.0645201796)],
                knots=[0, 0, 0, 0, 0.0546042176, 0.1045733995, 0.1606277824, 0.197388756, 0.2346788711, 0.2701018775, 0.3032357804, 0.3283837236, 0.3618471324, 0.3858027351, 0.4251204008, 0.4658684054, 0.5186180199, 0.5719052759, 0.6106636846, 0.6535745875, 0.6881471751, 0.7189286681, 0.74625248, 0.7905083372, 0.8389617139, 0.909859319, 1, 1, 1, 1], degree=3))
        make_face(mode=Mode.SUBTRACT)
        with BuildLine():
            add(Edge.make_bspline(
                [(-2.8514962178, 32.1955576533), (-3.8997628037, 32.4576027892), (-7.9095890191, 31.8635662826), (-4.3238326595, 27.6211265825), (-1.2736587011, 29.285716755), (-1.6275664506, 31.1707710315), (-2.1522021654, 32.0207484899), (-2.8514962178, 32.1955576533)],
                knots=[0, 0, 0, 0, 0.2395411215, 0.4731982447, 0.6805990894, 0.8402031661, 1, 1, 1, 1], degree=3))
        make_face()
        with BuildLine():
            add(Edge.make_bspline(
                [(1.6941971844, 31.3571102911), (1.3108946935, 31.0062442641), (0.4595030464, 29.9336509001), (4.1528665294, 27.8349048325), (6.1179461916, 29.437769026), (6.4317328024, 31.738400975), (3.2966349544, 32.4729941248), (2.1491945334, 31.7736040941), (1.6941971844, 31.3571102911)],
                knots=[0, 0, 0, 0, 0.1323027864, 0.3391239984, 0.507780617, 0.6581002152, 0.8429506239, 1, 1, 1, 1], degree=3))
        make_face()
        with BuildLine():
            add(Edge.make_bspline(
                [(-1.704858616, 24.0665830666), (-1.3459018699, 23.71373881), (-1.4600569541, 20.3827078036), (-0.6001683574, 23.7020320346), (0.1589578991, 24.2690617473), (0.2582199718, 23.4139615451), (0.6358723034, 20.594127011), (1.2693680408, 25.1563007956), (2.7994886037, 20.0331032474), (2.7410261459, 25.5182659314), (4.0045725363, 22.2829041159), (3.1565124097, 19.8615546899), (1.5230680738, 23.7203513037), (1.3390104623, 19.7811708857), (-0.2252715344, 23.4590283662), (-0.7975659061, 19.4563502021), (-3.1536947316, 23.1635854097), (-1.9605343092, 24.3179049902), (-1.704858616, 24.0665830666)],
                knots=[0, 0, 0, 0, 0.0726892442, 0.139094474, 0.1803353614, 0.2225736314, 0.2823334942, 0.347943536, 0.4167339268, 0.4895098594, 0.5556241615, 0.6155751597, 0.6841023352, 0.7431592696, 0.8057223687, 0.8680158889, 0.9482253138, 1, 1, 1, 1], degree=3))
        make_face()
        with BuildLine():
            add(Edge.make_bspline(
                [(0.0648357673, 27.3283820593), (-0.049809536, 27.3458081796), (-0.259059863, 26.280935465), (-2.8013538285, 26.9509346341), (1.0031349347, 30.159266978), (2.1063794561, 26.8291636162), (0.5015433167, 26.054740378), (0.1917679205, 27.3090883342), (0.0648357673, 27.3283820593)],
                knots=[0, 0, 0, 0, 0.1253351854, 0.281841219, 0.5181013759, 0.7197722097, 0.8612323008, 1, 1, 1, 1], degree=3))
        make_face()
    extrude(amount=-F17_DEPTH, mode=Mode.SUBTRACT)

    # F18 (on face) → F19 (join)
    with BuildSketch(Plane.XZ.offset(48.26)):
        Polygon((-35.56, 50.8), (-38.735, 50.8), (-38.735, 48.26), (-37.1602, 48.26), (-37.1602, 45.72), (-41.91, 45.72), (-41.91, 7.62), (41.91, 7.62), (41.91, 45.72), (37.1602, 45.72), (37.1602, 48.26), (38.735, 48.26), (38.735, 50.8), (35.56, 50.8), (35.56, 12.7), (-35.56, 12.7), align=None)
    extrude(amount=F19_DEPTH)


solid = f1.part
